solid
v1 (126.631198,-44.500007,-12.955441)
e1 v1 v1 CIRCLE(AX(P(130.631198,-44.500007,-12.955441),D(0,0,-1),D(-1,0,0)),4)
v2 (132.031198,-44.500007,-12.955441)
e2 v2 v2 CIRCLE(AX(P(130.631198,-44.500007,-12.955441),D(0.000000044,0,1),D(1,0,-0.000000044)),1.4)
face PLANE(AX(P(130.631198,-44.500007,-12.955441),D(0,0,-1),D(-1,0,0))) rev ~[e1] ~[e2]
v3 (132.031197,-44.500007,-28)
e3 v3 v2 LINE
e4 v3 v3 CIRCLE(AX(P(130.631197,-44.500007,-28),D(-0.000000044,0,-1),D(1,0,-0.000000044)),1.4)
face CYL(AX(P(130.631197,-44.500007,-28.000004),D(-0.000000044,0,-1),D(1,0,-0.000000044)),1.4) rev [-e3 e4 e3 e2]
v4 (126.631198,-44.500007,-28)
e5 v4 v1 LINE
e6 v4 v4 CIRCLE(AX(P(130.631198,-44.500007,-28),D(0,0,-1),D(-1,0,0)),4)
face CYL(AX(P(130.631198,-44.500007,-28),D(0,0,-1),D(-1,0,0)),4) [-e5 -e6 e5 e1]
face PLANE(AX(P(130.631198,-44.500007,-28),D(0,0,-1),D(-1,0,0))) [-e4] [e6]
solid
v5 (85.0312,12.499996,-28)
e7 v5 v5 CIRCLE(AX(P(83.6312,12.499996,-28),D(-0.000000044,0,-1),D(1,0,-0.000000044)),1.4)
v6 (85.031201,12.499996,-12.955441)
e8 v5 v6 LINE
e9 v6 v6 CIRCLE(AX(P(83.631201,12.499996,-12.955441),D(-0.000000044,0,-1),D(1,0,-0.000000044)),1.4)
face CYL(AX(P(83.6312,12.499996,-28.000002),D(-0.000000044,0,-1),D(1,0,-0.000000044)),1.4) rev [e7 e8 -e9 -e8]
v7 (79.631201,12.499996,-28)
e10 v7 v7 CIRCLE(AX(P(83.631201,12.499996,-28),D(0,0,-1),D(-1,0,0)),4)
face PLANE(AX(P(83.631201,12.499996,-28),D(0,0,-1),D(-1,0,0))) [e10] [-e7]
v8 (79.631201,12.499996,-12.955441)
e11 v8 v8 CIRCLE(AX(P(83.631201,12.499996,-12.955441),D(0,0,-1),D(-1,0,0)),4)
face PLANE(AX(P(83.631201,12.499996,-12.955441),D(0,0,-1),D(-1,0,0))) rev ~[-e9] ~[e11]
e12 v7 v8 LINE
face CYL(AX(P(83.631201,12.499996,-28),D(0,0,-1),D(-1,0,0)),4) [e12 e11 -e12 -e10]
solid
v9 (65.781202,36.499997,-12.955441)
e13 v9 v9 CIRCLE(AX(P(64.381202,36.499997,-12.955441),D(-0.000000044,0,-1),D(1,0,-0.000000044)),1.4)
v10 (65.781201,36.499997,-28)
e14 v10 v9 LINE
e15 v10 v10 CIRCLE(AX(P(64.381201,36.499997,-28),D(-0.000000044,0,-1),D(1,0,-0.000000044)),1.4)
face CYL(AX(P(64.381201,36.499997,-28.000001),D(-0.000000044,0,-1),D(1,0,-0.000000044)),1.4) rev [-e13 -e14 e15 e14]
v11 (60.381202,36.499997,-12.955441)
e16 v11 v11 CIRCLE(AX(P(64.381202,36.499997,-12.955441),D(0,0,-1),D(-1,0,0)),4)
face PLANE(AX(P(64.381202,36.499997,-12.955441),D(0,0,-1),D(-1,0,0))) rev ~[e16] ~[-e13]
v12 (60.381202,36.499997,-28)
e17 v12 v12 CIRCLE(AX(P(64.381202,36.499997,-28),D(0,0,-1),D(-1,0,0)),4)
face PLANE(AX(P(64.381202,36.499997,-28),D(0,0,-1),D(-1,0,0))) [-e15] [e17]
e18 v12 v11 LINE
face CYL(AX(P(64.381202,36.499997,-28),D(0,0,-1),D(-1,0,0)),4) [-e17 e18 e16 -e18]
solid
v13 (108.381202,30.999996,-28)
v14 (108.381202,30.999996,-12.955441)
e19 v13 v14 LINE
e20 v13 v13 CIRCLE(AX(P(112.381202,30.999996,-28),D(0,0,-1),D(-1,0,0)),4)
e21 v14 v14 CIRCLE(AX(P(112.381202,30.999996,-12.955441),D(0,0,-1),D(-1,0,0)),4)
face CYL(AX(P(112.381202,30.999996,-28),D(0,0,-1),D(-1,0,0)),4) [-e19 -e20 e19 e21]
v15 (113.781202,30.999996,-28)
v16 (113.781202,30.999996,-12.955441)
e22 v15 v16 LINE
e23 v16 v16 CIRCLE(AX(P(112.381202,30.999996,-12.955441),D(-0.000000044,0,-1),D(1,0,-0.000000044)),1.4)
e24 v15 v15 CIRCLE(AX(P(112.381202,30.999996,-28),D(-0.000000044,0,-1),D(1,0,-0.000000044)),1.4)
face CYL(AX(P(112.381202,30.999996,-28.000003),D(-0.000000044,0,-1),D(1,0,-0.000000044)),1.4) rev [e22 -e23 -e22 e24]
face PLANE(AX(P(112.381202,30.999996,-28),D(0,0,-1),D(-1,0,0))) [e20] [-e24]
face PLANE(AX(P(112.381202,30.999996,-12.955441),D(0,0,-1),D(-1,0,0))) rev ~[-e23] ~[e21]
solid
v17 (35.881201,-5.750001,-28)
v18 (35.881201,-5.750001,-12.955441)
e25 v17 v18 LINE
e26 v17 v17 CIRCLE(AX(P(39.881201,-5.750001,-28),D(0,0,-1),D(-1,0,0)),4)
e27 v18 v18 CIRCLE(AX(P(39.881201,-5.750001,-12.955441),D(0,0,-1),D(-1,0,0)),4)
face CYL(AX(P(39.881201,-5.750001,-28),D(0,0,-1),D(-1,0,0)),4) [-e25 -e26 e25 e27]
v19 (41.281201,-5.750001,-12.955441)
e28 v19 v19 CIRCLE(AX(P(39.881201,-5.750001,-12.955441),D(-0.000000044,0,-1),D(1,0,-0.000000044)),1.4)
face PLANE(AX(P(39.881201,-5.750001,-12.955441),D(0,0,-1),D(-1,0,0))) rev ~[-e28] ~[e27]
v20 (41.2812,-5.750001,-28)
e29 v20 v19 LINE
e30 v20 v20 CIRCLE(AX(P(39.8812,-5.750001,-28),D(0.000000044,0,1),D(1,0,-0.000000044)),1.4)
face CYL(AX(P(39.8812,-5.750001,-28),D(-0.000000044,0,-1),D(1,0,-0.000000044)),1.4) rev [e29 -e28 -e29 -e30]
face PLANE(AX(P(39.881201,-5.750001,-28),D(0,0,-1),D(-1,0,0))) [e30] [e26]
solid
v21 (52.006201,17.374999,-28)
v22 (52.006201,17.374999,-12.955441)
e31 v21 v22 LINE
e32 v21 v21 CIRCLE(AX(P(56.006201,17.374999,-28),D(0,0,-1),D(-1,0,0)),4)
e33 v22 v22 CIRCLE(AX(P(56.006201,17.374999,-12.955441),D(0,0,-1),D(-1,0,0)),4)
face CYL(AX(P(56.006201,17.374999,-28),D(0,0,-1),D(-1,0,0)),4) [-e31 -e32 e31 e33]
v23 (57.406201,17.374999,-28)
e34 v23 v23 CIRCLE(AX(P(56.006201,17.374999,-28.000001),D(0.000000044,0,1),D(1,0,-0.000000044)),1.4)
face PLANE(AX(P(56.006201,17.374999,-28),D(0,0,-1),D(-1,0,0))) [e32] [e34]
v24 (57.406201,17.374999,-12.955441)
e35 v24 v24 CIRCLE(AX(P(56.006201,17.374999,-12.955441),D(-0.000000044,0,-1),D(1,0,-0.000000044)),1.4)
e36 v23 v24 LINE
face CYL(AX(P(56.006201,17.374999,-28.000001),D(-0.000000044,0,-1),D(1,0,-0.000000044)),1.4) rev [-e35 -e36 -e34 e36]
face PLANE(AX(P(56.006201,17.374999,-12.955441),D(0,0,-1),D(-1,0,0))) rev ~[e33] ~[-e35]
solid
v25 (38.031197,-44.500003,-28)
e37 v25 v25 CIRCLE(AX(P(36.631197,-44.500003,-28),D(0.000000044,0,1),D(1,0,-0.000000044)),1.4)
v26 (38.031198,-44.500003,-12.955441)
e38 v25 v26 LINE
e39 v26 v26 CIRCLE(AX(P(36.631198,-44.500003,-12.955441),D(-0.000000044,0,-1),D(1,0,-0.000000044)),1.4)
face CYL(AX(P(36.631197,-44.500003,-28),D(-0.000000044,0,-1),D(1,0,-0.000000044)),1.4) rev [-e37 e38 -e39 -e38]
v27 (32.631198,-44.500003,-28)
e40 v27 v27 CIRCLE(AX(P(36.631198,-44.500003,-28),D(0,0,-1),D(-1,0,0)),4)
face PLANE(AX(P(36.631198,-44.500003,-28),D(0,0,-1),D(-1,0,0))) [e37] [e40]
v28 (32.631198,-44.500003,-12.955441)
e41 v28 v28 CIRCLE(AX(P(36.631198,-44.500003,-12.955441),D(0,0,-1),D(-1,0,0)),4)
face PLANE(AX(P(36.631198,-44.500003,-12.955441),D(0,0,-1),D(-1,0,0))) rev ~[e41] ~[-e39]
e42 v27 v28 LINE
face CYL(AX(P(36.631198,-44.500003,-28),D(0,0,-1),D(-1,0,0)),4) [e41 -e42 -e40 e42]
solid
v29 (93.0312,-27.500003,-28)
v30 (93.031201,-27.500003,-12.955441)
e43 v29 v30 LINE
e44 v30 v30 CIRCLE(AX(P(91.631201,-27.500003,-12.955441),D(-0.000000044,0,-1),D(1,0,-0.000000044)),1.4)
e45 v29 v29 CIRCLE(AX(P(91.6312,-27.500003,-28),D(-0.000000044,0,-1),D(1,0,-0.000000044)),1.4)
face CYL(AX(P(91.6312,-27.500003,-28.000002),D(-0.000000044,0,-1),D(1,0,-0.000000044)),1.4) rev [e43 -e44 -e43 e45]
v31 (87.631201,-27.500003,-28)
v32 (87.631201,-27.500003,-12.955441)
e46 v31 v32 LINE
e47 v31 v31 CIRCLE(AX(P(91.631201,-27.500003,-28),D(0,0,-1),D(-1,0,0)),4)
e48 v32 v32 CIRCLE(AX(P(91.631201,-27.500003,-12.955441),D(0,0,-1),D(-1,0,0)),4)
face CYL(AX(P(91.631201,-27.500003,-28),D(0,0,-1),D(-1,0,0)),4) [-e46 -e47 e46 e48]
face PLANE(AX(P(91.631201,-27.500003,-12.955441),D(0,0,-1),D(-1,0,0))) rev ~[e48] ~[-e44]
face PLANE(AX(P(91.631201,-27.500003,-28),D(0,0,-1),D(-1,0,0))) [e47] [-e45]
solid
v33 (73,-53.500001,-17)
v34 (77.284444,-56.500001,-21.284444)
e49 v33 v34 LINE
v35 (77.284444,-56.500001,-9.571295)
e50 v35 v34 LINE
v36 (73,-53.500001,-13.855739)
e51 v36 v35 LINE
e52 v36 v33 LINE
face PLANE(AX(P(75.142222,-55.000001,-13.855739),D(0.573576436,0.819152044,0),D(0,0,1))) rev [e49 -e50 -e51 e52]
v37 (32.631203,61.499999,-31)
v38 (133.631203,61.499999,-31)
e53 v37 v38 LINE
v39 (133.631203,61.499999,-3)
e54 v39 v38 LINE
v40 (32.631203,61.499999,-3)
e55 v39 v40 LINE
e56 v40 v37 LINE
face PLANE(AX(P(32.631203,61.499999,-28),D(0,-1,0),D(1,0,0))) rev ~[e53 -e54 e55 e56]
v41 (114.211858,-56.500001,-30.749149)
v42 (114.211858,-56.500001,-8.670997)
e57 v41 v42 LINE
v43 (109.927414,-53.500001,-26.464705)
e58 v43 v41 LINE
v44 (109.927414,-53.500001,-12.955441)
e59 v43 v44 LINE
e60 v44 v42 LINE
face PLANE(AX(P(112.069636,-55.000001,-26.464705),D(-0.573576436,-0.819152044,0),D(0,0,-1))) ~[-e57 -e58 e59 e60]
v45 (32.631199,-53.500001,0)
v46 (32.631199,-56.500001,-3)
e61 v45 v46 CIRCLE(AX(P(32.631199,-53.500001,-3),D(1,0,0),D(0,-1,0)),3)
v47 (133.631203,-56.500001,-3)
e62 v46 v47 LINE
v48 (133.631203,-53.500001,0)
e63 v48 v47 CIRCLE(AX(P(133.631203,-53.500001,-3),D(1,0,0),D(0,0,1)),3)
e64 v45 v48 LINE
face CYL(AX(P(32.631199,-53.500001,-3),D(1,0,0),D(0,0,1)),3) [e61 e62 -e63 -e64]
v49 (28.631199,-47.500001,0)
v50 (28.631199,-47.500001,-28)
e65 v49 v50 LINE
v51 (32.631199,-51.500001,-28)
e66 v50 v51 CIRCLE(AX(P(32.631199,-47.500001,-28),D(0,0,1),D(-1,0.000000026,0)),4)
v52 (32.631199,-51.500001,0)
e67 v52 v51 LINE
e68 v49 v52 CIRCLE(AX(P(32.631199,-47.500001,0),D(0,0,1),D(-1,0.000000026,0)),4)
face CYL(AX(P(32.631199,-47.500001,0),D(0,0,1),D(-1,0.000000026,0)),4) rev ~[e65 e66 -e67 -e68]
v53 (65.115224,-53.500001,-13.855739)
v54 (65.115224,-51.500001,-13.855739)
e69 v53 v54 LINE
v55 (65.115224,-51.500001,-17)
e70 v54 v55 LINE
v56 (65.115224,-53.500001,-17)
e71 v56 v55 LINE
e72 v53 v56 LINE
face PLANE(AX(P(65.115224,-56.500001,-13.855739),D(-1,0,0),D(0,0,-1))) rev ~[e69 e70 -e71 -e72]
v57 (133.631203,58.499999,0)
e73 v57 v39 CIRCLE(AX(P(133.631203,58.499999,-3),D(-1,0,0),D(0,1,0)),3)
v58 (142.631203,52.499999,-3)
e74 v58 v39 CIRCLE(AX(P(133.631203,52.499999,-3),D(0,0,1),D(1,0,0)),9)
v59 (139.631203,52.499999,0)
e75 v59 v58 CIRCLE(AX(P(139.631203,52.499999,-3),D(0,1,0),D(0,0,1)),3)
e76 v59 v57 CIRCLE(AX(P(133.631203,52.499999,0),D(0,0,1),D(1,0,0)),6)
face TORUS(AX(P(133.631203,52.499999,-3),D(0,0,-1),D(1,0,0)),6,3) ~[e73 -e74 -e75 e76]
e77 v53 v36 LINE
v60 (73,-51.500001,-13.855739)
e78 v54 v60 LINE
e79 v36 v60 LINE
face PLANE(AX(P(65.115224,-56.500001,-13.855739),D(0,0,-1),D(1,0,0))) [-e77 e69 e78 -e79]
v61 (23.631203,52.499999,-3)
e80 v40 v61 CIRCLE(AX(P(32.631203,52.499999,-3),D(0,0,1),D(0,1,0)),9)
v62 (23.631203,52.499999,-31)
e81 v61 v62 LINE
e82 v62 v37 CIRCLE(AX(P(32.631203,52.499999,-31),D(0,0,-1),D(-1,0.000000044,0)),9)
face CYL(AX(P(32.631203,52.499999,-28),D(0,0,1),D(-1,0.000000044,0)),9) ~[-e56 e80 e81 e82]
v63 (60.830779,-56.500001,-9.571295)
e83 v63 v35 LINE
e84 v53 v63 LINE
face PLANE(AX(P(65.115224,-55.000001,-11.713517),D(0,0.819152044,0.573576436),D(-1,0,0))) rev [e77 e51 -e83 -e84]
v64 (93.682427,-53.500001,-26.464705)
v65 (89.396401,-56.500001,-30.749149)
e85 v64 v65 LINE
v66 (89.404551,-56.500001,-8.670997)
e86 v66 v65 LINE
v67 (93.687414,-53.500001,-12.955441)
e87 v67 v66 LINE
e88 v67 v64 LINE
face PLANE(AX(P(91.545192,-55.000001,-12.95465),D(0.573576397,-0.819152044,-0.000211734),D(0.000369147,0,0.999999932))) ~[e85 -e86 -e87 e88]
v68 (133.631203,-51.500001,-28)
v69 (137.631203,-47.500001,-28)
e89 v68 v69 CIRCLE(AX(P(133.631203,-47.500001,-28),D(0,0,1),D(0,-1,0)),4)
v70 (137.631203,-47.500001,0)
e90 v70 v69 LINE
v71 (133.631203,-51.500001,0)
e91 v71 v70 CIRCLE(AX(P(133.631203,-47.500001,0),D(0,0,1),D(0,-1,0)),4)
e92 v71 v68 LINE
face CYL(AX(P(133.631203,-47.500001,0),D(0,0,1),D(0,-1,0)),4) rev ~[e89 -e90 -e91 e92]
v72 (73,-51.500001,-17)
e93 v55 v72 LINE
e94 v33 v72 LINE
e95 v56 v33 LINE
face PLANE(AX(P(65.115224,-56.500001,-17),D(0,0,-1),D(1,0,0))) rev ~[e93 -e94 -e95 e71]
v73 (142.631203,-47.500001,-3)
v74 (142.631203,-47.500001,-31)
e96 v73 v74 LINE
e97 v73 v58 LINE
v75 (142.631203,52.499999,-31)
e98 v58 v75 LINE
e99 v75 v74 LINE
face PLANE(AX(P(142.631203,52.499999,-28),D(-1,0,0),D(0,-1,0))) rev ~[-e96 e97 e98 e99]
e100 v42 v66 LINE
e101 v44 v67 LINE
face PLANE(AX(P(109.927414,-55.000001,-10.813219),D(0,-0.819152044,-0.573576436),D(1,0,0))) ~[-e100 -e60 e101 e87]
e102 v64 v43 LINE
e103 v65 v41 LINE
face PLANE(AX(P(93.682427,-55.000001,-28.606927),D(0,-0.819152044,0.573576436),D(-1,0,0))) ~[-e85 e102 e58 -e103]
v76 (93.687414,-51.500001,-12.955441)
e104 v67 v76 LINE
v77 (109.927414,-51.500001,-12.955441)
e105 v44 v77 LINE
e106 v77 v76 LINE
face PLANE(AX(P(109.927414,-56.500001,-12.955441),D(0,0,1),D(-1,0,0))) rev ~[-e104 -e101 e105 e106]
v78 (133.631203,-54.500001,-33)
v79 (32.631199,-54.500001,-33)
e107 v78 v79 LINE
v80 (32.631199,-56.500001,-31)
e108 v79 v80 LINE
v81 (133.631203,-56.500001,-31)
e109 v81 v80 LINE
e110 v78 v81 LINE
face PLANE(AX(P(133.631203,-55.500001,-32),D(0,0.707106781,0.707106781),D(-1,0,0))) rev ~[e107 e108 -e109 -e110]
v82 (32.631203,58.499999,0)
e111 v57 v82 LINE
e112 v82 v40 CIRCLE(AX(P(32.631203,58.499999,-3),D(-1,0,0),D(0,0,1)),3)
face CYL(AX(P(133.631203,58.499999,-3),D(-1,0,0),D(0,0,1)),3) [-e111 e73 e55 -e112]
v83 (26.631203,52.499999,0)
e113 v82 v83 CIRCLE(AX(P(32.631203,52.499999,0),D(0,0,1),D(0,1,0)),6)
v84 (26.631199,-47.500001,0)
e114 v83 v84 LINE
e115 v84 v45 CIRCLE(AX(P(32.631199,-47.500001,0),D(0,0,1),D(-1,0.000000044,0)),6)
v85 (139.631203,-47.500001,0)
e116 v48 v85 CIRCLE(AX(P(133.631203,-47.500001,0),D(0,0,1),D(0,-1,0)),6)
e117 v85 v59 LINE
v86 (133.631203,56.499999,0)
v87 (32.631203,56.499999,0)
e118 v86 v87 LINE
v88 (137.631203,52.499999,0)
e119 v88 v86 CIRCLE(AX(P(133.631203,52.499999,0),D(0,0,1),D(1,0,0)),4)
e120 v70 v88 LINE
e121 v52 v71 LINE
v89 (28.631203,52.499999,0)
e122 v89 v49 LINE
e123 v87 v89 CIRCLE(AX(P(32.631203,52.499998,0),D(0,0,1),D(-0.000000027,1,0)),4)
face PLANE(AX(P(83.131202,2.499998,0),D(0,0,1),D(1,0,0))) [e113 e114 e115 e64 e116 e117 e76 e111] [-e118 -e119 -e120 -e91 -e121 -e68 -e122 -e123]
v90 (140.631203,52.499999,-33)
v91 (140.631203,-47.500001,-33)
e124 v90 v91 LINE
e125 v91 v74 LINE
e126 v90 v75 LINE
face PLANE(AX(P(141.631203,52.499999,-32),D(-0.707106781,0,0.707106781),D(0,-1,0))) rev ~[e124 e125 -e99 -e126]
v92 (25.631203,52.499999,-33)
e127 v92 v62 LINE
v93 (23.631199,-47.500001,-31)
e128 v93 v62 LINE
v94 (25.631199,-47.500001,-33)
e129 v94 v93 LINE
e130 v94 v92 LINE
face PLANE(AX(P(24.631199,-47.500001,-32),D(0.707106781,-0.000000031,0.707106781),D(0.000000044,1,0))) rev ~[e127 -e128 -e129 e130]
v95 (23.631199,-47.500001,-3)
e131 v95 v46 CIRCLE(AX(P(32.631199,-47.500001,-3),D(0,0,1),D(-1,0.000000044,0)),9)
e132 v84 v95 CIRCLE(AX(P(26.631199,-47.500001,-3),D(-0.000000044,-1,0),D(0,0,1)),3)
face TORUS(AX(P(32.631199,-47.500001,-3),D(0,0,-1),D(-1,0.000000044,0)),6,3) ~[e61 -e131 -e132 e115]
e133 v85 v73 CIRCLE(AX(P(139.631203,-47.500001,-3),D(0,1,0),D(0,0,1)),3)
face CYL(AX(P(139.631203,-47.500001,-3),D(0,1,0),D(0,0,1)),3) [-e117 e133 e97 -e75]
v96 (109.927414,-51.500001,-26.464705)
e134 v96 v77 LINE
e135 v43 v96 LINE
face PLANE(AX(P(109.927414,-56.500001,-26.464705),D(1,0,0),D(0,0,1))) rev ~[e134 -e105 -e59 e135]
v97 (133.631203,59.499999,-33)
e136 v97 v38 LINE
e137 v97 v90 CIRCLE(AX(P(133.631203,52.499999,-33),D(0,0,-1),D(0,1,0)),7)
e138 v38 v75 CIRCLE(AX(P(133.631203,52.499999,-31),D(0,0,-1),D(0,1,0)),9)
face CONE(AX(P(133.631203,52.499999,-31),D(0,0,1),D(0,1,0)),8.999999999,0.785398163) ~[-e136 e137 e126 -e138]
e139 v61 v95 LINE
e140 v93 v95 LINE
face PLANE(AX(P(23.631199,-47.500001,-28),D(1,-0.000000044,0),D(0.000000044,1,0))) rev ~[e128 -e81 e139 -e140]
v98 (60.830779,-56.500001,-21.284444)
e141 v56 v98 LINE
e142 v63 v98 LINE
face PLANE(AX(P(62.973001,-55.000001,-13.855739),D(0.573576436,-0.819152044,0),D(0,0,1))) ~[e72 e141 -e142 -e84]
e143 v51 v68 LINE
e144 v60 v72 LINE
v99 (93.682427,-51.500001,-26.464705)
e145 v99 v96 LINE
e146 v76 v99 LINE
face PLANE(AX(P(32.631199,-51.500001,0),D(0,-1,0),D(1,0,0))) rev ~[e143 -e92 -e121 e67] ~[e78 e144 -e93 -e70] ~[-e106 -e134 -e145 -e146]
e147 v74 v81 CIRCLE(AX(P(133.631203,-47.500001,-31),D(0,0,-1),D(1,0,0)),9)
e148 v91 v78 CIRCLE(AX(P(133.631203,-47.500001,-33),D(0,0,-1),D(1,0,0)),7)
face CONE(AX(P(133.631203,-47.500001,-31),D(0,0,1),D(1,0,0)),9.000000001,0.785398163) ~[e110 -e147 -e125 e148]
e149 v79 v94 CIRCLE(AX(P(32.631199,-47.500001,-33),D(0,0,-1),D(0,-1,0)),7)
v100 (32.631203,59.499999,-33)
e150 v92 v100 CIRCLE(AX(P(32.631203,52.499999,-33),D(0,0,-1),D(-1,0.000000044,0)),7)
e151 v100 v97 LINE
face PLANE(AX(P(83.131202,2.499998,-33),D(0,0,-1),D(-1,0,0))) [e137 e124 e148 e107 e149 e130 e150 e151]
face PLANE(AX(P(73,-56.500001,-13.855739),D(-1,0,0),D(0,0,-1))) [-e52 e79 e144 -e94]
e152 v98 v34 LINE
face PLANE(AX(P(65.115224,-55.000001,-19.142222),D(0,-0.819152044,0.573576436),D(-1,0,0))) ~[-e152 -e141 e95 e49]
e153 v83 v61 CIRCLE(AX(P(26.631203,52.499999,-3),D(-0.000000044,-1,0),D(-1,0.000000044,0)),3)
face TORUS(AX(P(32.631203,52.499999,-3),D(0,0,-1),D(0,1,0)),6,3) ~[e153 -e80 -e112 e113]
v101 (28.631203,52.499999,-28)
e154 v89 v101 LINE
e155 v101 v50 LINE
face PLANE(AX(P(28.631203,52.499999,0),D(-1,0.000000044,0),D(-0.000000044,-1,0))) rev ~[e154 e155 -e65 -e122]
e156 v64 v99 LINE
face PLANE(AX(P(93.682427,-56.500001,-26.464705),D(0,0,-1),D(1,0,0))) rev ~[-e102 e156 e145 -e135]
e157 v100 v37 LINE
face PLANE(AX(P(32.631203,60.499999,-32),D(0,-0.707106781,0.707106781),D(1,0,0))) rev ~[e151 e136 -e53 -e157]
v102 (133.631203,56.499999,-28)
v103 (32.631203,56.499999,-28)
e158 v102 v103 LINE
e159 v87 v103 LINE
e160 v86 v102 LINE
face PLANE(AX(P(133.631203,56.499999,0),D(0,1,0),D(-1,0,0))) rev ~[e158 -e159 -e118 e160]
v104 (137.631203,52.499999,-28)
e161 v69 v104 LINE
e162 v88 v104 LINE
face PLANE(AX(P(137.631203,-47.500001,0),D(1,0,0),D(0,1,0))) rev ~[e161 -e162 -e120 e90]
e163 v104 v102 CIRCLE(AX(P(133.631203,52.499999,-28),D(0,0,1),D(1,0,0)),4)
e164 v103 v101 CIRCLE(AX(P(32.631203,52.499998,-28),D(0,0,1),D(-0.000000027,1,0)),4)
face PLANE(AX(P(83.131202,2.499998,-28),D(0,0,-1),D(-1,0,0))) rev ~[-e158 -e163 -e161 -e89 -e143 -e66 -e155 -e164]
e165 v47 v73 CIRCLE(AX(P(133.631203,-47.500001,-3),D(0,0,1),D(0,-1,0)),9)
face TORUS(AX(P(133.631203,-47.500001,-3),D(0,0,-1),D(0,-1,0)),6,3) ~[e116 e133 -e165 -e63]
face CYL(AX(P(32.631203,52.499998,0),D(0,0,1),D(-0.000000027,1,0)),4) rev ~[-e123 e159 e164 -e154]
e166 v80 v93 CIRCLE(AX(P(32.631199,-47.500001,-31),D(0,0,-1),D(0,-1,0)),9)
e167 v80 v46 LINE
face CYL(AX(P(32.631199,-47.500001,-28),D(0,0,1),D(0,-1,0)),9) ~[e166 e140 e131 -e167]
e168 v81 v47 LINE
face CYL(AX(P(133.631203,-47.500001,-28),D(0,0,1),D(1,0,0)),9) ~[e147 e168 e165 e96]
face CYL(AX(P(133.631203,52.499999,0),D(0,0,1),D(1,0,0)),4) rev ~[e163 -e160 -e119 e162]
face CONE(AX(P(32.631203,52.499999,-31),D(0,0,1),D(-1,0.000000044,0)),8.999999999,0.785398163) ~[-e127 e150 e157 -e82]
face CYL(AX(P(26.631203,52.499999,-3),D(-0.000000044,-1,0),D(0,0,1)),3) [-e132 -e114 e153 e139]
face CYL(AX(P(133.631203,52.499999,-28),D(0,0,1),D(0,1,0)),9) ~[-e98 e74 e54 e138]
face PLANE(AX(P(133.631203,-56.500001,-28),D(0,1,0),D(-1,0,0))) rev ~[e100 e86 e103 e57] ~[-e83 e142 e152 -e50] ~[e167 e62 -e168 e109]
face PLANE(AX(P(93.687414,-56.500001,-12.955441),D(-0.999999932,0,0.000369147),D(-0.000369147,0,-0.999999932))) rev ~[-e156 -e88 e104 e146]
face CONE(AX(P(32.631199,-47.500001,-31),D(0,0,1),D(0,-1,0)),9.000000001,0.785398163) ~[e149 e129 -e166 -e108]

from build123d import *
from OCP.BRepFilletAPI import BRepFilletAPI_MakeChamfer

# Parameters (mm, degrees)
BOSS_EXTRUDE1_DEPTH   = 28
SKETCH2_R             = 4
BOSS_EXTRUDE2_DEPTH   = 15.044559182
BOSS_EXTRUDE2_2_DEPTH = 15.044559182
BOSS_EXTRUDE2_3_DEPTH = 15.044559182
BOSS_EXTRUDE2_4_DEPTH = 15.044559182
BOSS_EXTRUDE2_5_DEPTH = 15.044559182
BOSS_EXTRUDE2_6_DEPTH = 15.044559182
BOSS_EXTRUDE2_7_DEPTH = 15.044559182
BOSS_EXTRUDE2_8_DEPTH = 15.044559182
BOSS_EXTRUDE4_DEPTH   = 5
CHAMFER1_SIZE         = 2
SKETCH8_W             = 7.884776493
SKETCH8_H             = 3.144261004
CUT_EXTRUDE4_DEPTH    = 10
CUT_EXTRUDE5_START    = -15.044562
SKETCH9_R             = 1.4
CUT_EXTRUDE5_DEPTH    = 15.044563
FILLET1_R             = 3
CHAMFER2_SIZE         = 3
CHAMFER2_SIZE2        = 4.28444402


with BuildPart() as part:
    # Sketch1 → Boss-Extrude1 (new body)
    with BuildSketch(Plane.XY):
        with BuildLine():
            Line((23.631203293, 52.499999142), (23.631198922, -47.500000858))
            ThreePointArc((23.631198922, -47.500000858), (26.267237752, -53.863962143), (32.631198922, -56.500001252))
            Line((32.631198922, -56.500001252), (133.631203293, -56.500001252))
            ThreePointArc((133.631203293, -56.500001252), (139.995164324, -53.863962282), (142.631203293, -47.500001252))
            Line((142.631203293, -47.500001252), (142.631203293, 52.499998748))
            ThreePointArc((142.631203293, 52.499998748), (139.995164324, 58.863959779), (133.631203293, 61.499998748))
            Line((133.631203293, 61.499998748), (32.631203293, 61.499998748))
            ThreePointArc((32.631203293, 61.499998748), (26.267242401, 58.863959918), (23.631203293, 52.499999142))
        make_face()
        with BuildLine():
            Line((28.631203141, 52.499998748), (28.63119877, -47.500001252))
            ThreePointArc((28.63119877, -47.500001252), (29.80277169, -50.328428483), (32.631198922, -51.500001252))
            Line((32.631198922, -51.500001252), (133.631203293, -51.500001252))
            ThreePointArc((133.631203293, -51.500001252), (136.459630418, -50.328428376), (137.631203293, -47.500001252))
            Line((137.631203293, -47.500001252), (137.631203293, 52.499998748))
            ThreePointArc((137.631203293, 52.499998748), (136.459630418, 55.328425873), (133.631203293, 56.499998748))
            Line((133.631203293, 56.499998748), (32.631203293, 56.499998748))
            ThreePointArc((32.631203293, 56.499998748), (29.802776168, 55.328425873), (28.631203141, 52.499998748))
        make_face(mode=Mode.SUBTRACT)
    extrude(amount=-BOSS_EXTRUDE1_DEPTH)

    # Sketch6 → Boss-Extrude4 (add)
    with BuildSketch(Plane(origin=(0, 0, -28), x_dir=(-1, 0, 0), z_dir=(0, 0, -1))):
        with BuildLine():
            Line((-23.631198922, -47.500000858), (-23.631203293, 52.499999142))
            ThreePointArc((-23.631203293, 52.499999142), (-26.267242401, 58.863959918), (-32.631203293, 61.499998748))
            Line((-32.631203293, 61.499998748), (-133.631203293, 61.499998748))
            ThreePointArc((-133.631203293, 61.499998748), (-139.995164324, 58.863959779), (-142.631203293, 52.499998748))
            Line((-142.631203293, 52.499998748), (-142.631203293, -47.500001252))
            ThreePointArc((-142.631203293, -47.500001252), (-139.995164324, -53.863962282), (-133.631203293, -56.500001252))
            Line((-133.631203293, -56.500001252), (-32.631198922, -56.500001252))
            ThreePointArc((-32.631198922, -56.500001252), (-26.267237752, -53.863962143), (-23.631198922, -47.500000858))
        make_face()
    extrude(amount=BOSS_EXTRUDE4_DEPTH)

    # Chamfer1
    chamfer1_edges = [part.edges().sort_by_distance(p)[0] for p in [
        (26.267237752, -53.863962143, -33),
        (23.631201107, 2.499999142, -33),
        (26.267242401, 58.863959918, -33),
        (83.131203293, 61.499998748, -33),
        (139.995164324, 58.863959779, -33),
        (142.631203293, 2.499998748, -33),
        (139.995164324, -53.863962282, -33),
        (83.131201107, -56.500001252, -33),
    ]]
    chamfer(chamfer1_edges, length=CHAMFER1_SIZE)

    # Sketch8 → Cut-Extrude4 (cut)
    with BuildSketch(Plane(origin=(0, -56.500001252, 0), x_dir=(1, 0, 0), z_dir=(0, 1, 0))):
        Polygon((93.682427273, 26.464704917), (109.927414178, 26.464704917), (109.927414178, 12.955440885), (93.687414178, 12.955440885), align=None)
        with Locations((69.057611753, 15.427869498)):
            Rectangle(SKETCH8_W, SKETCH8_H)
    extrude(amount=CUT_EXTRUDE4_DEPTH, mode=Mode.SUBTRACT)

    # Fillet1
    fillet1_edges = [part.edges().sort_by_distance(p)[0] for p in [
        (142.631203293, 2.499998748, 0),
        (139.995164324, -53.863962282, 0),
        (83.131201107, -56.500001252, 0),
        (26.267237752, -53.863962143, 0),
        (23.631201107, 2.499999142, 0),
        (26.267242401, 58.863959918, 0),
        (83.131203293, 61.499998748, 0),
        (139.995164324, 58.863959779, 0),
    ]]
    fillet(fillet1_edges, radius=FILLET1_R)

    # Chamfer2: one chamfer whose edges measure the first distance from different faces: ONE call of the kernel's chamfer builder (chamfer() names one face for all edges)
    chamfer2_edges_1 = [part.edges().sort_by_distance(p)[0] for p in [
        (93.684920726, -56.500001252, -19.710072901),
    ]]
    chamfer2_side_1 = [part.faces().sort_by_distance(p)[0] for p in [
        (93.684920726, -54.000001252, -19.710072901),
    ]]
    chamfer2_edges_2 = [part.edges().sort_by_distance(p)[0] for p in [
        (101.807414178, -56.500001252, -12.955440885),
    ]]
    chamfer2_side_2 = [part.faces().sort_by_distance(p)[0] for p in [
        (101.807414178, -54.000001252, -12.955440885),
    ]]
    chamfer2_edges_3 = [part.edges().sort_by_distance(p)[0] for p in [
        (109.927414178, -56.500001252, -19.710072901),
    ]]
    chamfer2_side_3 = [part.faces().sort_by_distance(p)[0] for p in [
        (109.927414178, -54.000001252, -19.710072901),
    ]]
    chamfer2_edges_4 = [part.edges().sort_by_distance(p)[0] for p in [
        (101.804920726, -56.500001252, -26.464704917),
    ]]
    chamfer2_side_4 = [part.faces().sort_by_distance(p)[0] for p in [
        (101.804920726, -54.000001252, -26.464704917),
    ]]
    chamfer2_edges_5 = [part.edges().sort_by_distance(p)[0] for p in [
        (65.115223507, -56.500001252, -15.427869498),
    ]]
    chamfer2_side_5 = [part.faces().sort_by_distance(p)[0] for p in [
        (65.115223507, -54.000001252, -15.427869498),
    ]]
    chamfer2_edges_6 = [part.edges().sort_by_distance(p)[0] for p in [
        (69.057611754, -56.500001252, -13.855738996),
    ]]
    chamfer2_side_6 = [part.faces().sort_by_distance(p)[0] for p in [
        (69.057611754, -54.000001252, -13.855738996),
    ]]
    chamfer2_edges_7 = [part.edges().sort_by_distance(p)[0] for p in [
        (73, -56.500001252, -15.427869498),
    ]]
    chamfer2_side_7 = [part.faces().sort_by_distance(p)[0] for p in [
        (73, -54.000001252, -15.427869498),
    ]]
    chamfer2_edges_8 = [part.edges().sort_by_distance(p)[0] for p in [
        (69.057611754, -56.500001252, -17),
    ]]
    chamfer2_side_8 = [part.faces().sort_by_distance(p)[0] for p in [
        (69.057611754, -54.000001252, -17),
    ]]
    chamfer2 = BRepFilletAPI_MakeChamfer(part.part.solid().wrapped)
    for e in chamfer2_edges_1:
        chamfer2.Add(CHAMFER2_SIZE, CHAMFER2_SIZE2, e.wrapped, chamfer2_side_1[0].wrapped)  # the first distance lies on this face
    for e in chamfer2_edges_2:
        chamfer2.Add(CHAMFER2_SIZE, CHAMFER2_SIZE2, e.wrapped, chamfer2_side_2[0].wrapped)  # the first distance lies on this face
    for e in chamfer2_edges_3:
        chamfer2.Add(CHAMFER2_SIZE, CHAMFER2_SIZE2, e.wrapped, chamfer2_side_3[0].wrapped)  # the first distance lies on this face
    for e in chamfer2_edges_4:
        chamfer2.Add(CHAMFER2_SIZE, CHAMFER2_SIZE2, e.wrapped, chamfer2_side_4[0].wrapped)  # the first distance lies on this face
    for e in chamfer2_edges_5:
        chamfer2.Add(CHAMFER2_SIZE, CHAMFER2_SIZE2, e.wrapped, chamfer2_side_5[0].wrapped)  # the first distance lies on this face
    for e in chamfer2_edges_6:
        chamfer2.Add(CHAMFER2_SIZE, CHAMFER2_SIZE2, e.wrapped, chamfer2_side_6[0].wrapped)  # the first distance lies on this face
    for e in chamfer2_edges_7:
        chamfer2.Add(CHAMFER2_SIZE, CHAMFER2_SIZE2, e.wrapped, chamfer2_side_7[0].wrapped)  # the first distance lies on this face
    for e in chamfer2_edges_8:
        chamfer2.Add(CHAMFER2_SIZE, CHAMFER2_SIZE2, e.wrapped, chamfer2_side_8[0].wrapped)  # the first distance lies on this face
    add(Compound.cast(chamfer2.Shape()), mode=Mode.REPLACE)


with BuildPart() as body_2:
    # Sketch2 → Boss-Extrude2 (new body)
    with BuildSketch(Plane(origin=(0, 0, -28), x_dir=(-1, 0, 0), z_dir=(0, 0, -1))):
        with Locations((-112.381202333, 30.999995568)):
            Circle(SKETCH2_R)
    extrude(amount=-BOSS_EXTRUDE2_DEPTH)


with BuildPart() as body_3:
    # Sketch2 → Boss-Extrude2 2 (new body)
    with BuildSketch(Plane(origin=(0, 0, -28), x_dir=(-1, 0, 0), z_dir=(0, 0, -1))):
        with Locations((-64.381202053, 36.499996826)):
            Circle(SKETCH2_R)
    extrude(amount=-BOSS_EXTRUDE2_2_DEPTH)


with BuildPart() as body_4:
    # Sketch2 → Boss-Extrude2 3 (new body)
    with BuildSketch(Plane(origin=(0, 0, -28), x_dir=(-1, 0, 0), z_dir=(0, 0, -1))):
        with Locations((-56.006201457, 17.374998612)):
            Circle(SKETCH2_R)
    extrude(amount=-BOSS_EXTRUDE2_3_DEPTH)


with BuildPart() as body_5:
    # Sketch2 → Boss-Extrude2 4 (new body)
    with BuildSketch(Plane(origin=(0, 0, -28), x_dir=(-1, 0, 0), z_dir=(0, 0, -1))):
        with Locations((-83.631200604, 12.499995724)):
            Circle(SKETCH2_R)
    extrude(amount=-BOSS_EXTRUDE2_4_DEPTH)


with BuildPart() as body_6:
    # Sketch2 → Boss-Extrude2 5 (new body)
    with BuildSketch(Plane(origin=(0, 0, -28), x_dir=(-1, 0, 0), z_dir=(0, 0, -1))):
        with Locations((-39.881200947, -5.750001423)):
            Circle(SKETCH2_R)
    extrude(amount=-BOSS_EXTRUDE2_5_DEPTH)


with BuildPart() as body_7:
    # Sketch2 → Boss-Extrude2 6 (new body)
    with BuildSketch(Plane(origin=(0, 0, -28), x_dir=(-1, 0, 0), z_dir=(0, 0, -1))):
        with Locations((-36.631198133, -44.500002521)):
            Circle(SKETCH2_R)
    extrude(amount=-BOSS_EXTRUDE2_6_DEPTH)


with BuildPart() as body_8:
    # Sketch2 → Boss-Extrude2 7 (new body)
    with BuildSketch(Plane(origin=(0, 0, -28), x_dir=(-1, 0, 0), z_dir=(0, 0, -1))):
        with Locations((-130.631198093, -44.50000663)):
            Circle(SKETCH2_R)
    extrude(amount=-BOSS_EXTRUDE2_7_DEPTH)


with BuildPart() as body_9:
    # Sketch2 → Boss-Extrude2 8 (new body)
    with BuildSketch(Plane(origin=(0, 0, -28), x_dir=(-1, 0, 0), z_dir=(0, 0, -1))):
        with Locations((-91.631200636, -27.500003365)):
            Circle(SKETCH2_R)
    extrude(amount=-BOSS_EXTRUDE2_8_DEPTH)


with BuildPart() as cut_extrude5_tool:
    # Sketch9 → Cut-Extrude5 (new body)
    with BuildSketch(Plane(origin=(-5.66e-07, 0, -12.95543608), x_dir=(0.999999999999999, 0, -4.371138828673993e-08), z_dir=(4.371138828673993e-08, -1.389432378091647e-15, 0.9999999999999991)).offset(CUT_EXTRUDE5_START)):
        with Locations((130.631198659, -44.50000663)):
            Circle(SKETCH9_R)
        with Locations((36.631198699, -44.500002521)):
            Circle(SKETCH9_R)
        with Locations((91.631201202, -27.500003365)):
            Circle(SKETCH9_R)
        with Locations((83.631201171, 12.499995724)):
            Circle(SKETCH9_R)
        with Locations((56.006202024, 17.374998612)):
            Circle(SKETCH9_R)
        with Locations((39.881201513, -5.750001423)):
            Circle(SKETCH9_R)
        with Locations((112.381202899, 30.999995568)):
            Circle(SKETCH9_R)
        with Locations((64.38120262, 36.499996826)):
            Circle(SKETCH9_R)
    extrude(amount=CUT_EXTRUDE5_DEPTH)


with BuildPart() as body_2_1:
    add(body_2.part)

    # Cut-Extrude5: cut by cut_extrude5_tool
    add(cut_extrude5_tool.part, mode=Mode.SUBTRACT)


with BuildPart() as body_3_1:
    add(body_3.part)

    # Cut-Extrude5: cut by cut_extrude5_tool
    add(cut_extrude5_tool.part, mode=Mode.SUBTRACT)


with BuildPart() as body_4_1:
    add(body_4.part)

    # Cut-Extrude5: cut by cut_extrude5_tool
    add(cut_extrude5_tool.part, mode=Mode.SUBTRACT)


with BuildPart() as body_5_1:
    add(body_5.part)

    # Cut-Extrude5: cut by cut_extrude5_tool
    add(cut_extrude5_tool.part, mode=Mode.SUBTRACT)


with BuildPart() as body_6_1:
    add(body_6.part)

    # Cut-Extrude5: cut by cut_extrude5_tool
    add(cut_extrude5_tool.part, mode=Mode.SUBTRACT)


with BuildPart() as body_7_1:
    add(body_7.part)

    # Cut-Extrude5: cut by cut_extrude5_tool
    add(cut_extrude5_tool.part, mode=Mode.SUBTRACT)


with BuildPart() as body_8_1:
    add(body_8.part)

    # Cut-Extrude5: cut by cut_extrude5_tool
    add(cut_extrude5_tool.part, mode=Mode.SUBTRACT)


with BuildPart() as body_9_1:
    add(body_9.part)

    # Cut-Extrude5: cut by cut_extrude5_tool
    add(cut_extrude5_tool.part, mode=Mode.SUBTRACT)


solid = Compound([part.part, body_2_1.part, body_3_1.part, body_4_1.part, body_5_1.part, body_6_1.part, body_7_1.part, body_8_1.part, body_9_1.part])
